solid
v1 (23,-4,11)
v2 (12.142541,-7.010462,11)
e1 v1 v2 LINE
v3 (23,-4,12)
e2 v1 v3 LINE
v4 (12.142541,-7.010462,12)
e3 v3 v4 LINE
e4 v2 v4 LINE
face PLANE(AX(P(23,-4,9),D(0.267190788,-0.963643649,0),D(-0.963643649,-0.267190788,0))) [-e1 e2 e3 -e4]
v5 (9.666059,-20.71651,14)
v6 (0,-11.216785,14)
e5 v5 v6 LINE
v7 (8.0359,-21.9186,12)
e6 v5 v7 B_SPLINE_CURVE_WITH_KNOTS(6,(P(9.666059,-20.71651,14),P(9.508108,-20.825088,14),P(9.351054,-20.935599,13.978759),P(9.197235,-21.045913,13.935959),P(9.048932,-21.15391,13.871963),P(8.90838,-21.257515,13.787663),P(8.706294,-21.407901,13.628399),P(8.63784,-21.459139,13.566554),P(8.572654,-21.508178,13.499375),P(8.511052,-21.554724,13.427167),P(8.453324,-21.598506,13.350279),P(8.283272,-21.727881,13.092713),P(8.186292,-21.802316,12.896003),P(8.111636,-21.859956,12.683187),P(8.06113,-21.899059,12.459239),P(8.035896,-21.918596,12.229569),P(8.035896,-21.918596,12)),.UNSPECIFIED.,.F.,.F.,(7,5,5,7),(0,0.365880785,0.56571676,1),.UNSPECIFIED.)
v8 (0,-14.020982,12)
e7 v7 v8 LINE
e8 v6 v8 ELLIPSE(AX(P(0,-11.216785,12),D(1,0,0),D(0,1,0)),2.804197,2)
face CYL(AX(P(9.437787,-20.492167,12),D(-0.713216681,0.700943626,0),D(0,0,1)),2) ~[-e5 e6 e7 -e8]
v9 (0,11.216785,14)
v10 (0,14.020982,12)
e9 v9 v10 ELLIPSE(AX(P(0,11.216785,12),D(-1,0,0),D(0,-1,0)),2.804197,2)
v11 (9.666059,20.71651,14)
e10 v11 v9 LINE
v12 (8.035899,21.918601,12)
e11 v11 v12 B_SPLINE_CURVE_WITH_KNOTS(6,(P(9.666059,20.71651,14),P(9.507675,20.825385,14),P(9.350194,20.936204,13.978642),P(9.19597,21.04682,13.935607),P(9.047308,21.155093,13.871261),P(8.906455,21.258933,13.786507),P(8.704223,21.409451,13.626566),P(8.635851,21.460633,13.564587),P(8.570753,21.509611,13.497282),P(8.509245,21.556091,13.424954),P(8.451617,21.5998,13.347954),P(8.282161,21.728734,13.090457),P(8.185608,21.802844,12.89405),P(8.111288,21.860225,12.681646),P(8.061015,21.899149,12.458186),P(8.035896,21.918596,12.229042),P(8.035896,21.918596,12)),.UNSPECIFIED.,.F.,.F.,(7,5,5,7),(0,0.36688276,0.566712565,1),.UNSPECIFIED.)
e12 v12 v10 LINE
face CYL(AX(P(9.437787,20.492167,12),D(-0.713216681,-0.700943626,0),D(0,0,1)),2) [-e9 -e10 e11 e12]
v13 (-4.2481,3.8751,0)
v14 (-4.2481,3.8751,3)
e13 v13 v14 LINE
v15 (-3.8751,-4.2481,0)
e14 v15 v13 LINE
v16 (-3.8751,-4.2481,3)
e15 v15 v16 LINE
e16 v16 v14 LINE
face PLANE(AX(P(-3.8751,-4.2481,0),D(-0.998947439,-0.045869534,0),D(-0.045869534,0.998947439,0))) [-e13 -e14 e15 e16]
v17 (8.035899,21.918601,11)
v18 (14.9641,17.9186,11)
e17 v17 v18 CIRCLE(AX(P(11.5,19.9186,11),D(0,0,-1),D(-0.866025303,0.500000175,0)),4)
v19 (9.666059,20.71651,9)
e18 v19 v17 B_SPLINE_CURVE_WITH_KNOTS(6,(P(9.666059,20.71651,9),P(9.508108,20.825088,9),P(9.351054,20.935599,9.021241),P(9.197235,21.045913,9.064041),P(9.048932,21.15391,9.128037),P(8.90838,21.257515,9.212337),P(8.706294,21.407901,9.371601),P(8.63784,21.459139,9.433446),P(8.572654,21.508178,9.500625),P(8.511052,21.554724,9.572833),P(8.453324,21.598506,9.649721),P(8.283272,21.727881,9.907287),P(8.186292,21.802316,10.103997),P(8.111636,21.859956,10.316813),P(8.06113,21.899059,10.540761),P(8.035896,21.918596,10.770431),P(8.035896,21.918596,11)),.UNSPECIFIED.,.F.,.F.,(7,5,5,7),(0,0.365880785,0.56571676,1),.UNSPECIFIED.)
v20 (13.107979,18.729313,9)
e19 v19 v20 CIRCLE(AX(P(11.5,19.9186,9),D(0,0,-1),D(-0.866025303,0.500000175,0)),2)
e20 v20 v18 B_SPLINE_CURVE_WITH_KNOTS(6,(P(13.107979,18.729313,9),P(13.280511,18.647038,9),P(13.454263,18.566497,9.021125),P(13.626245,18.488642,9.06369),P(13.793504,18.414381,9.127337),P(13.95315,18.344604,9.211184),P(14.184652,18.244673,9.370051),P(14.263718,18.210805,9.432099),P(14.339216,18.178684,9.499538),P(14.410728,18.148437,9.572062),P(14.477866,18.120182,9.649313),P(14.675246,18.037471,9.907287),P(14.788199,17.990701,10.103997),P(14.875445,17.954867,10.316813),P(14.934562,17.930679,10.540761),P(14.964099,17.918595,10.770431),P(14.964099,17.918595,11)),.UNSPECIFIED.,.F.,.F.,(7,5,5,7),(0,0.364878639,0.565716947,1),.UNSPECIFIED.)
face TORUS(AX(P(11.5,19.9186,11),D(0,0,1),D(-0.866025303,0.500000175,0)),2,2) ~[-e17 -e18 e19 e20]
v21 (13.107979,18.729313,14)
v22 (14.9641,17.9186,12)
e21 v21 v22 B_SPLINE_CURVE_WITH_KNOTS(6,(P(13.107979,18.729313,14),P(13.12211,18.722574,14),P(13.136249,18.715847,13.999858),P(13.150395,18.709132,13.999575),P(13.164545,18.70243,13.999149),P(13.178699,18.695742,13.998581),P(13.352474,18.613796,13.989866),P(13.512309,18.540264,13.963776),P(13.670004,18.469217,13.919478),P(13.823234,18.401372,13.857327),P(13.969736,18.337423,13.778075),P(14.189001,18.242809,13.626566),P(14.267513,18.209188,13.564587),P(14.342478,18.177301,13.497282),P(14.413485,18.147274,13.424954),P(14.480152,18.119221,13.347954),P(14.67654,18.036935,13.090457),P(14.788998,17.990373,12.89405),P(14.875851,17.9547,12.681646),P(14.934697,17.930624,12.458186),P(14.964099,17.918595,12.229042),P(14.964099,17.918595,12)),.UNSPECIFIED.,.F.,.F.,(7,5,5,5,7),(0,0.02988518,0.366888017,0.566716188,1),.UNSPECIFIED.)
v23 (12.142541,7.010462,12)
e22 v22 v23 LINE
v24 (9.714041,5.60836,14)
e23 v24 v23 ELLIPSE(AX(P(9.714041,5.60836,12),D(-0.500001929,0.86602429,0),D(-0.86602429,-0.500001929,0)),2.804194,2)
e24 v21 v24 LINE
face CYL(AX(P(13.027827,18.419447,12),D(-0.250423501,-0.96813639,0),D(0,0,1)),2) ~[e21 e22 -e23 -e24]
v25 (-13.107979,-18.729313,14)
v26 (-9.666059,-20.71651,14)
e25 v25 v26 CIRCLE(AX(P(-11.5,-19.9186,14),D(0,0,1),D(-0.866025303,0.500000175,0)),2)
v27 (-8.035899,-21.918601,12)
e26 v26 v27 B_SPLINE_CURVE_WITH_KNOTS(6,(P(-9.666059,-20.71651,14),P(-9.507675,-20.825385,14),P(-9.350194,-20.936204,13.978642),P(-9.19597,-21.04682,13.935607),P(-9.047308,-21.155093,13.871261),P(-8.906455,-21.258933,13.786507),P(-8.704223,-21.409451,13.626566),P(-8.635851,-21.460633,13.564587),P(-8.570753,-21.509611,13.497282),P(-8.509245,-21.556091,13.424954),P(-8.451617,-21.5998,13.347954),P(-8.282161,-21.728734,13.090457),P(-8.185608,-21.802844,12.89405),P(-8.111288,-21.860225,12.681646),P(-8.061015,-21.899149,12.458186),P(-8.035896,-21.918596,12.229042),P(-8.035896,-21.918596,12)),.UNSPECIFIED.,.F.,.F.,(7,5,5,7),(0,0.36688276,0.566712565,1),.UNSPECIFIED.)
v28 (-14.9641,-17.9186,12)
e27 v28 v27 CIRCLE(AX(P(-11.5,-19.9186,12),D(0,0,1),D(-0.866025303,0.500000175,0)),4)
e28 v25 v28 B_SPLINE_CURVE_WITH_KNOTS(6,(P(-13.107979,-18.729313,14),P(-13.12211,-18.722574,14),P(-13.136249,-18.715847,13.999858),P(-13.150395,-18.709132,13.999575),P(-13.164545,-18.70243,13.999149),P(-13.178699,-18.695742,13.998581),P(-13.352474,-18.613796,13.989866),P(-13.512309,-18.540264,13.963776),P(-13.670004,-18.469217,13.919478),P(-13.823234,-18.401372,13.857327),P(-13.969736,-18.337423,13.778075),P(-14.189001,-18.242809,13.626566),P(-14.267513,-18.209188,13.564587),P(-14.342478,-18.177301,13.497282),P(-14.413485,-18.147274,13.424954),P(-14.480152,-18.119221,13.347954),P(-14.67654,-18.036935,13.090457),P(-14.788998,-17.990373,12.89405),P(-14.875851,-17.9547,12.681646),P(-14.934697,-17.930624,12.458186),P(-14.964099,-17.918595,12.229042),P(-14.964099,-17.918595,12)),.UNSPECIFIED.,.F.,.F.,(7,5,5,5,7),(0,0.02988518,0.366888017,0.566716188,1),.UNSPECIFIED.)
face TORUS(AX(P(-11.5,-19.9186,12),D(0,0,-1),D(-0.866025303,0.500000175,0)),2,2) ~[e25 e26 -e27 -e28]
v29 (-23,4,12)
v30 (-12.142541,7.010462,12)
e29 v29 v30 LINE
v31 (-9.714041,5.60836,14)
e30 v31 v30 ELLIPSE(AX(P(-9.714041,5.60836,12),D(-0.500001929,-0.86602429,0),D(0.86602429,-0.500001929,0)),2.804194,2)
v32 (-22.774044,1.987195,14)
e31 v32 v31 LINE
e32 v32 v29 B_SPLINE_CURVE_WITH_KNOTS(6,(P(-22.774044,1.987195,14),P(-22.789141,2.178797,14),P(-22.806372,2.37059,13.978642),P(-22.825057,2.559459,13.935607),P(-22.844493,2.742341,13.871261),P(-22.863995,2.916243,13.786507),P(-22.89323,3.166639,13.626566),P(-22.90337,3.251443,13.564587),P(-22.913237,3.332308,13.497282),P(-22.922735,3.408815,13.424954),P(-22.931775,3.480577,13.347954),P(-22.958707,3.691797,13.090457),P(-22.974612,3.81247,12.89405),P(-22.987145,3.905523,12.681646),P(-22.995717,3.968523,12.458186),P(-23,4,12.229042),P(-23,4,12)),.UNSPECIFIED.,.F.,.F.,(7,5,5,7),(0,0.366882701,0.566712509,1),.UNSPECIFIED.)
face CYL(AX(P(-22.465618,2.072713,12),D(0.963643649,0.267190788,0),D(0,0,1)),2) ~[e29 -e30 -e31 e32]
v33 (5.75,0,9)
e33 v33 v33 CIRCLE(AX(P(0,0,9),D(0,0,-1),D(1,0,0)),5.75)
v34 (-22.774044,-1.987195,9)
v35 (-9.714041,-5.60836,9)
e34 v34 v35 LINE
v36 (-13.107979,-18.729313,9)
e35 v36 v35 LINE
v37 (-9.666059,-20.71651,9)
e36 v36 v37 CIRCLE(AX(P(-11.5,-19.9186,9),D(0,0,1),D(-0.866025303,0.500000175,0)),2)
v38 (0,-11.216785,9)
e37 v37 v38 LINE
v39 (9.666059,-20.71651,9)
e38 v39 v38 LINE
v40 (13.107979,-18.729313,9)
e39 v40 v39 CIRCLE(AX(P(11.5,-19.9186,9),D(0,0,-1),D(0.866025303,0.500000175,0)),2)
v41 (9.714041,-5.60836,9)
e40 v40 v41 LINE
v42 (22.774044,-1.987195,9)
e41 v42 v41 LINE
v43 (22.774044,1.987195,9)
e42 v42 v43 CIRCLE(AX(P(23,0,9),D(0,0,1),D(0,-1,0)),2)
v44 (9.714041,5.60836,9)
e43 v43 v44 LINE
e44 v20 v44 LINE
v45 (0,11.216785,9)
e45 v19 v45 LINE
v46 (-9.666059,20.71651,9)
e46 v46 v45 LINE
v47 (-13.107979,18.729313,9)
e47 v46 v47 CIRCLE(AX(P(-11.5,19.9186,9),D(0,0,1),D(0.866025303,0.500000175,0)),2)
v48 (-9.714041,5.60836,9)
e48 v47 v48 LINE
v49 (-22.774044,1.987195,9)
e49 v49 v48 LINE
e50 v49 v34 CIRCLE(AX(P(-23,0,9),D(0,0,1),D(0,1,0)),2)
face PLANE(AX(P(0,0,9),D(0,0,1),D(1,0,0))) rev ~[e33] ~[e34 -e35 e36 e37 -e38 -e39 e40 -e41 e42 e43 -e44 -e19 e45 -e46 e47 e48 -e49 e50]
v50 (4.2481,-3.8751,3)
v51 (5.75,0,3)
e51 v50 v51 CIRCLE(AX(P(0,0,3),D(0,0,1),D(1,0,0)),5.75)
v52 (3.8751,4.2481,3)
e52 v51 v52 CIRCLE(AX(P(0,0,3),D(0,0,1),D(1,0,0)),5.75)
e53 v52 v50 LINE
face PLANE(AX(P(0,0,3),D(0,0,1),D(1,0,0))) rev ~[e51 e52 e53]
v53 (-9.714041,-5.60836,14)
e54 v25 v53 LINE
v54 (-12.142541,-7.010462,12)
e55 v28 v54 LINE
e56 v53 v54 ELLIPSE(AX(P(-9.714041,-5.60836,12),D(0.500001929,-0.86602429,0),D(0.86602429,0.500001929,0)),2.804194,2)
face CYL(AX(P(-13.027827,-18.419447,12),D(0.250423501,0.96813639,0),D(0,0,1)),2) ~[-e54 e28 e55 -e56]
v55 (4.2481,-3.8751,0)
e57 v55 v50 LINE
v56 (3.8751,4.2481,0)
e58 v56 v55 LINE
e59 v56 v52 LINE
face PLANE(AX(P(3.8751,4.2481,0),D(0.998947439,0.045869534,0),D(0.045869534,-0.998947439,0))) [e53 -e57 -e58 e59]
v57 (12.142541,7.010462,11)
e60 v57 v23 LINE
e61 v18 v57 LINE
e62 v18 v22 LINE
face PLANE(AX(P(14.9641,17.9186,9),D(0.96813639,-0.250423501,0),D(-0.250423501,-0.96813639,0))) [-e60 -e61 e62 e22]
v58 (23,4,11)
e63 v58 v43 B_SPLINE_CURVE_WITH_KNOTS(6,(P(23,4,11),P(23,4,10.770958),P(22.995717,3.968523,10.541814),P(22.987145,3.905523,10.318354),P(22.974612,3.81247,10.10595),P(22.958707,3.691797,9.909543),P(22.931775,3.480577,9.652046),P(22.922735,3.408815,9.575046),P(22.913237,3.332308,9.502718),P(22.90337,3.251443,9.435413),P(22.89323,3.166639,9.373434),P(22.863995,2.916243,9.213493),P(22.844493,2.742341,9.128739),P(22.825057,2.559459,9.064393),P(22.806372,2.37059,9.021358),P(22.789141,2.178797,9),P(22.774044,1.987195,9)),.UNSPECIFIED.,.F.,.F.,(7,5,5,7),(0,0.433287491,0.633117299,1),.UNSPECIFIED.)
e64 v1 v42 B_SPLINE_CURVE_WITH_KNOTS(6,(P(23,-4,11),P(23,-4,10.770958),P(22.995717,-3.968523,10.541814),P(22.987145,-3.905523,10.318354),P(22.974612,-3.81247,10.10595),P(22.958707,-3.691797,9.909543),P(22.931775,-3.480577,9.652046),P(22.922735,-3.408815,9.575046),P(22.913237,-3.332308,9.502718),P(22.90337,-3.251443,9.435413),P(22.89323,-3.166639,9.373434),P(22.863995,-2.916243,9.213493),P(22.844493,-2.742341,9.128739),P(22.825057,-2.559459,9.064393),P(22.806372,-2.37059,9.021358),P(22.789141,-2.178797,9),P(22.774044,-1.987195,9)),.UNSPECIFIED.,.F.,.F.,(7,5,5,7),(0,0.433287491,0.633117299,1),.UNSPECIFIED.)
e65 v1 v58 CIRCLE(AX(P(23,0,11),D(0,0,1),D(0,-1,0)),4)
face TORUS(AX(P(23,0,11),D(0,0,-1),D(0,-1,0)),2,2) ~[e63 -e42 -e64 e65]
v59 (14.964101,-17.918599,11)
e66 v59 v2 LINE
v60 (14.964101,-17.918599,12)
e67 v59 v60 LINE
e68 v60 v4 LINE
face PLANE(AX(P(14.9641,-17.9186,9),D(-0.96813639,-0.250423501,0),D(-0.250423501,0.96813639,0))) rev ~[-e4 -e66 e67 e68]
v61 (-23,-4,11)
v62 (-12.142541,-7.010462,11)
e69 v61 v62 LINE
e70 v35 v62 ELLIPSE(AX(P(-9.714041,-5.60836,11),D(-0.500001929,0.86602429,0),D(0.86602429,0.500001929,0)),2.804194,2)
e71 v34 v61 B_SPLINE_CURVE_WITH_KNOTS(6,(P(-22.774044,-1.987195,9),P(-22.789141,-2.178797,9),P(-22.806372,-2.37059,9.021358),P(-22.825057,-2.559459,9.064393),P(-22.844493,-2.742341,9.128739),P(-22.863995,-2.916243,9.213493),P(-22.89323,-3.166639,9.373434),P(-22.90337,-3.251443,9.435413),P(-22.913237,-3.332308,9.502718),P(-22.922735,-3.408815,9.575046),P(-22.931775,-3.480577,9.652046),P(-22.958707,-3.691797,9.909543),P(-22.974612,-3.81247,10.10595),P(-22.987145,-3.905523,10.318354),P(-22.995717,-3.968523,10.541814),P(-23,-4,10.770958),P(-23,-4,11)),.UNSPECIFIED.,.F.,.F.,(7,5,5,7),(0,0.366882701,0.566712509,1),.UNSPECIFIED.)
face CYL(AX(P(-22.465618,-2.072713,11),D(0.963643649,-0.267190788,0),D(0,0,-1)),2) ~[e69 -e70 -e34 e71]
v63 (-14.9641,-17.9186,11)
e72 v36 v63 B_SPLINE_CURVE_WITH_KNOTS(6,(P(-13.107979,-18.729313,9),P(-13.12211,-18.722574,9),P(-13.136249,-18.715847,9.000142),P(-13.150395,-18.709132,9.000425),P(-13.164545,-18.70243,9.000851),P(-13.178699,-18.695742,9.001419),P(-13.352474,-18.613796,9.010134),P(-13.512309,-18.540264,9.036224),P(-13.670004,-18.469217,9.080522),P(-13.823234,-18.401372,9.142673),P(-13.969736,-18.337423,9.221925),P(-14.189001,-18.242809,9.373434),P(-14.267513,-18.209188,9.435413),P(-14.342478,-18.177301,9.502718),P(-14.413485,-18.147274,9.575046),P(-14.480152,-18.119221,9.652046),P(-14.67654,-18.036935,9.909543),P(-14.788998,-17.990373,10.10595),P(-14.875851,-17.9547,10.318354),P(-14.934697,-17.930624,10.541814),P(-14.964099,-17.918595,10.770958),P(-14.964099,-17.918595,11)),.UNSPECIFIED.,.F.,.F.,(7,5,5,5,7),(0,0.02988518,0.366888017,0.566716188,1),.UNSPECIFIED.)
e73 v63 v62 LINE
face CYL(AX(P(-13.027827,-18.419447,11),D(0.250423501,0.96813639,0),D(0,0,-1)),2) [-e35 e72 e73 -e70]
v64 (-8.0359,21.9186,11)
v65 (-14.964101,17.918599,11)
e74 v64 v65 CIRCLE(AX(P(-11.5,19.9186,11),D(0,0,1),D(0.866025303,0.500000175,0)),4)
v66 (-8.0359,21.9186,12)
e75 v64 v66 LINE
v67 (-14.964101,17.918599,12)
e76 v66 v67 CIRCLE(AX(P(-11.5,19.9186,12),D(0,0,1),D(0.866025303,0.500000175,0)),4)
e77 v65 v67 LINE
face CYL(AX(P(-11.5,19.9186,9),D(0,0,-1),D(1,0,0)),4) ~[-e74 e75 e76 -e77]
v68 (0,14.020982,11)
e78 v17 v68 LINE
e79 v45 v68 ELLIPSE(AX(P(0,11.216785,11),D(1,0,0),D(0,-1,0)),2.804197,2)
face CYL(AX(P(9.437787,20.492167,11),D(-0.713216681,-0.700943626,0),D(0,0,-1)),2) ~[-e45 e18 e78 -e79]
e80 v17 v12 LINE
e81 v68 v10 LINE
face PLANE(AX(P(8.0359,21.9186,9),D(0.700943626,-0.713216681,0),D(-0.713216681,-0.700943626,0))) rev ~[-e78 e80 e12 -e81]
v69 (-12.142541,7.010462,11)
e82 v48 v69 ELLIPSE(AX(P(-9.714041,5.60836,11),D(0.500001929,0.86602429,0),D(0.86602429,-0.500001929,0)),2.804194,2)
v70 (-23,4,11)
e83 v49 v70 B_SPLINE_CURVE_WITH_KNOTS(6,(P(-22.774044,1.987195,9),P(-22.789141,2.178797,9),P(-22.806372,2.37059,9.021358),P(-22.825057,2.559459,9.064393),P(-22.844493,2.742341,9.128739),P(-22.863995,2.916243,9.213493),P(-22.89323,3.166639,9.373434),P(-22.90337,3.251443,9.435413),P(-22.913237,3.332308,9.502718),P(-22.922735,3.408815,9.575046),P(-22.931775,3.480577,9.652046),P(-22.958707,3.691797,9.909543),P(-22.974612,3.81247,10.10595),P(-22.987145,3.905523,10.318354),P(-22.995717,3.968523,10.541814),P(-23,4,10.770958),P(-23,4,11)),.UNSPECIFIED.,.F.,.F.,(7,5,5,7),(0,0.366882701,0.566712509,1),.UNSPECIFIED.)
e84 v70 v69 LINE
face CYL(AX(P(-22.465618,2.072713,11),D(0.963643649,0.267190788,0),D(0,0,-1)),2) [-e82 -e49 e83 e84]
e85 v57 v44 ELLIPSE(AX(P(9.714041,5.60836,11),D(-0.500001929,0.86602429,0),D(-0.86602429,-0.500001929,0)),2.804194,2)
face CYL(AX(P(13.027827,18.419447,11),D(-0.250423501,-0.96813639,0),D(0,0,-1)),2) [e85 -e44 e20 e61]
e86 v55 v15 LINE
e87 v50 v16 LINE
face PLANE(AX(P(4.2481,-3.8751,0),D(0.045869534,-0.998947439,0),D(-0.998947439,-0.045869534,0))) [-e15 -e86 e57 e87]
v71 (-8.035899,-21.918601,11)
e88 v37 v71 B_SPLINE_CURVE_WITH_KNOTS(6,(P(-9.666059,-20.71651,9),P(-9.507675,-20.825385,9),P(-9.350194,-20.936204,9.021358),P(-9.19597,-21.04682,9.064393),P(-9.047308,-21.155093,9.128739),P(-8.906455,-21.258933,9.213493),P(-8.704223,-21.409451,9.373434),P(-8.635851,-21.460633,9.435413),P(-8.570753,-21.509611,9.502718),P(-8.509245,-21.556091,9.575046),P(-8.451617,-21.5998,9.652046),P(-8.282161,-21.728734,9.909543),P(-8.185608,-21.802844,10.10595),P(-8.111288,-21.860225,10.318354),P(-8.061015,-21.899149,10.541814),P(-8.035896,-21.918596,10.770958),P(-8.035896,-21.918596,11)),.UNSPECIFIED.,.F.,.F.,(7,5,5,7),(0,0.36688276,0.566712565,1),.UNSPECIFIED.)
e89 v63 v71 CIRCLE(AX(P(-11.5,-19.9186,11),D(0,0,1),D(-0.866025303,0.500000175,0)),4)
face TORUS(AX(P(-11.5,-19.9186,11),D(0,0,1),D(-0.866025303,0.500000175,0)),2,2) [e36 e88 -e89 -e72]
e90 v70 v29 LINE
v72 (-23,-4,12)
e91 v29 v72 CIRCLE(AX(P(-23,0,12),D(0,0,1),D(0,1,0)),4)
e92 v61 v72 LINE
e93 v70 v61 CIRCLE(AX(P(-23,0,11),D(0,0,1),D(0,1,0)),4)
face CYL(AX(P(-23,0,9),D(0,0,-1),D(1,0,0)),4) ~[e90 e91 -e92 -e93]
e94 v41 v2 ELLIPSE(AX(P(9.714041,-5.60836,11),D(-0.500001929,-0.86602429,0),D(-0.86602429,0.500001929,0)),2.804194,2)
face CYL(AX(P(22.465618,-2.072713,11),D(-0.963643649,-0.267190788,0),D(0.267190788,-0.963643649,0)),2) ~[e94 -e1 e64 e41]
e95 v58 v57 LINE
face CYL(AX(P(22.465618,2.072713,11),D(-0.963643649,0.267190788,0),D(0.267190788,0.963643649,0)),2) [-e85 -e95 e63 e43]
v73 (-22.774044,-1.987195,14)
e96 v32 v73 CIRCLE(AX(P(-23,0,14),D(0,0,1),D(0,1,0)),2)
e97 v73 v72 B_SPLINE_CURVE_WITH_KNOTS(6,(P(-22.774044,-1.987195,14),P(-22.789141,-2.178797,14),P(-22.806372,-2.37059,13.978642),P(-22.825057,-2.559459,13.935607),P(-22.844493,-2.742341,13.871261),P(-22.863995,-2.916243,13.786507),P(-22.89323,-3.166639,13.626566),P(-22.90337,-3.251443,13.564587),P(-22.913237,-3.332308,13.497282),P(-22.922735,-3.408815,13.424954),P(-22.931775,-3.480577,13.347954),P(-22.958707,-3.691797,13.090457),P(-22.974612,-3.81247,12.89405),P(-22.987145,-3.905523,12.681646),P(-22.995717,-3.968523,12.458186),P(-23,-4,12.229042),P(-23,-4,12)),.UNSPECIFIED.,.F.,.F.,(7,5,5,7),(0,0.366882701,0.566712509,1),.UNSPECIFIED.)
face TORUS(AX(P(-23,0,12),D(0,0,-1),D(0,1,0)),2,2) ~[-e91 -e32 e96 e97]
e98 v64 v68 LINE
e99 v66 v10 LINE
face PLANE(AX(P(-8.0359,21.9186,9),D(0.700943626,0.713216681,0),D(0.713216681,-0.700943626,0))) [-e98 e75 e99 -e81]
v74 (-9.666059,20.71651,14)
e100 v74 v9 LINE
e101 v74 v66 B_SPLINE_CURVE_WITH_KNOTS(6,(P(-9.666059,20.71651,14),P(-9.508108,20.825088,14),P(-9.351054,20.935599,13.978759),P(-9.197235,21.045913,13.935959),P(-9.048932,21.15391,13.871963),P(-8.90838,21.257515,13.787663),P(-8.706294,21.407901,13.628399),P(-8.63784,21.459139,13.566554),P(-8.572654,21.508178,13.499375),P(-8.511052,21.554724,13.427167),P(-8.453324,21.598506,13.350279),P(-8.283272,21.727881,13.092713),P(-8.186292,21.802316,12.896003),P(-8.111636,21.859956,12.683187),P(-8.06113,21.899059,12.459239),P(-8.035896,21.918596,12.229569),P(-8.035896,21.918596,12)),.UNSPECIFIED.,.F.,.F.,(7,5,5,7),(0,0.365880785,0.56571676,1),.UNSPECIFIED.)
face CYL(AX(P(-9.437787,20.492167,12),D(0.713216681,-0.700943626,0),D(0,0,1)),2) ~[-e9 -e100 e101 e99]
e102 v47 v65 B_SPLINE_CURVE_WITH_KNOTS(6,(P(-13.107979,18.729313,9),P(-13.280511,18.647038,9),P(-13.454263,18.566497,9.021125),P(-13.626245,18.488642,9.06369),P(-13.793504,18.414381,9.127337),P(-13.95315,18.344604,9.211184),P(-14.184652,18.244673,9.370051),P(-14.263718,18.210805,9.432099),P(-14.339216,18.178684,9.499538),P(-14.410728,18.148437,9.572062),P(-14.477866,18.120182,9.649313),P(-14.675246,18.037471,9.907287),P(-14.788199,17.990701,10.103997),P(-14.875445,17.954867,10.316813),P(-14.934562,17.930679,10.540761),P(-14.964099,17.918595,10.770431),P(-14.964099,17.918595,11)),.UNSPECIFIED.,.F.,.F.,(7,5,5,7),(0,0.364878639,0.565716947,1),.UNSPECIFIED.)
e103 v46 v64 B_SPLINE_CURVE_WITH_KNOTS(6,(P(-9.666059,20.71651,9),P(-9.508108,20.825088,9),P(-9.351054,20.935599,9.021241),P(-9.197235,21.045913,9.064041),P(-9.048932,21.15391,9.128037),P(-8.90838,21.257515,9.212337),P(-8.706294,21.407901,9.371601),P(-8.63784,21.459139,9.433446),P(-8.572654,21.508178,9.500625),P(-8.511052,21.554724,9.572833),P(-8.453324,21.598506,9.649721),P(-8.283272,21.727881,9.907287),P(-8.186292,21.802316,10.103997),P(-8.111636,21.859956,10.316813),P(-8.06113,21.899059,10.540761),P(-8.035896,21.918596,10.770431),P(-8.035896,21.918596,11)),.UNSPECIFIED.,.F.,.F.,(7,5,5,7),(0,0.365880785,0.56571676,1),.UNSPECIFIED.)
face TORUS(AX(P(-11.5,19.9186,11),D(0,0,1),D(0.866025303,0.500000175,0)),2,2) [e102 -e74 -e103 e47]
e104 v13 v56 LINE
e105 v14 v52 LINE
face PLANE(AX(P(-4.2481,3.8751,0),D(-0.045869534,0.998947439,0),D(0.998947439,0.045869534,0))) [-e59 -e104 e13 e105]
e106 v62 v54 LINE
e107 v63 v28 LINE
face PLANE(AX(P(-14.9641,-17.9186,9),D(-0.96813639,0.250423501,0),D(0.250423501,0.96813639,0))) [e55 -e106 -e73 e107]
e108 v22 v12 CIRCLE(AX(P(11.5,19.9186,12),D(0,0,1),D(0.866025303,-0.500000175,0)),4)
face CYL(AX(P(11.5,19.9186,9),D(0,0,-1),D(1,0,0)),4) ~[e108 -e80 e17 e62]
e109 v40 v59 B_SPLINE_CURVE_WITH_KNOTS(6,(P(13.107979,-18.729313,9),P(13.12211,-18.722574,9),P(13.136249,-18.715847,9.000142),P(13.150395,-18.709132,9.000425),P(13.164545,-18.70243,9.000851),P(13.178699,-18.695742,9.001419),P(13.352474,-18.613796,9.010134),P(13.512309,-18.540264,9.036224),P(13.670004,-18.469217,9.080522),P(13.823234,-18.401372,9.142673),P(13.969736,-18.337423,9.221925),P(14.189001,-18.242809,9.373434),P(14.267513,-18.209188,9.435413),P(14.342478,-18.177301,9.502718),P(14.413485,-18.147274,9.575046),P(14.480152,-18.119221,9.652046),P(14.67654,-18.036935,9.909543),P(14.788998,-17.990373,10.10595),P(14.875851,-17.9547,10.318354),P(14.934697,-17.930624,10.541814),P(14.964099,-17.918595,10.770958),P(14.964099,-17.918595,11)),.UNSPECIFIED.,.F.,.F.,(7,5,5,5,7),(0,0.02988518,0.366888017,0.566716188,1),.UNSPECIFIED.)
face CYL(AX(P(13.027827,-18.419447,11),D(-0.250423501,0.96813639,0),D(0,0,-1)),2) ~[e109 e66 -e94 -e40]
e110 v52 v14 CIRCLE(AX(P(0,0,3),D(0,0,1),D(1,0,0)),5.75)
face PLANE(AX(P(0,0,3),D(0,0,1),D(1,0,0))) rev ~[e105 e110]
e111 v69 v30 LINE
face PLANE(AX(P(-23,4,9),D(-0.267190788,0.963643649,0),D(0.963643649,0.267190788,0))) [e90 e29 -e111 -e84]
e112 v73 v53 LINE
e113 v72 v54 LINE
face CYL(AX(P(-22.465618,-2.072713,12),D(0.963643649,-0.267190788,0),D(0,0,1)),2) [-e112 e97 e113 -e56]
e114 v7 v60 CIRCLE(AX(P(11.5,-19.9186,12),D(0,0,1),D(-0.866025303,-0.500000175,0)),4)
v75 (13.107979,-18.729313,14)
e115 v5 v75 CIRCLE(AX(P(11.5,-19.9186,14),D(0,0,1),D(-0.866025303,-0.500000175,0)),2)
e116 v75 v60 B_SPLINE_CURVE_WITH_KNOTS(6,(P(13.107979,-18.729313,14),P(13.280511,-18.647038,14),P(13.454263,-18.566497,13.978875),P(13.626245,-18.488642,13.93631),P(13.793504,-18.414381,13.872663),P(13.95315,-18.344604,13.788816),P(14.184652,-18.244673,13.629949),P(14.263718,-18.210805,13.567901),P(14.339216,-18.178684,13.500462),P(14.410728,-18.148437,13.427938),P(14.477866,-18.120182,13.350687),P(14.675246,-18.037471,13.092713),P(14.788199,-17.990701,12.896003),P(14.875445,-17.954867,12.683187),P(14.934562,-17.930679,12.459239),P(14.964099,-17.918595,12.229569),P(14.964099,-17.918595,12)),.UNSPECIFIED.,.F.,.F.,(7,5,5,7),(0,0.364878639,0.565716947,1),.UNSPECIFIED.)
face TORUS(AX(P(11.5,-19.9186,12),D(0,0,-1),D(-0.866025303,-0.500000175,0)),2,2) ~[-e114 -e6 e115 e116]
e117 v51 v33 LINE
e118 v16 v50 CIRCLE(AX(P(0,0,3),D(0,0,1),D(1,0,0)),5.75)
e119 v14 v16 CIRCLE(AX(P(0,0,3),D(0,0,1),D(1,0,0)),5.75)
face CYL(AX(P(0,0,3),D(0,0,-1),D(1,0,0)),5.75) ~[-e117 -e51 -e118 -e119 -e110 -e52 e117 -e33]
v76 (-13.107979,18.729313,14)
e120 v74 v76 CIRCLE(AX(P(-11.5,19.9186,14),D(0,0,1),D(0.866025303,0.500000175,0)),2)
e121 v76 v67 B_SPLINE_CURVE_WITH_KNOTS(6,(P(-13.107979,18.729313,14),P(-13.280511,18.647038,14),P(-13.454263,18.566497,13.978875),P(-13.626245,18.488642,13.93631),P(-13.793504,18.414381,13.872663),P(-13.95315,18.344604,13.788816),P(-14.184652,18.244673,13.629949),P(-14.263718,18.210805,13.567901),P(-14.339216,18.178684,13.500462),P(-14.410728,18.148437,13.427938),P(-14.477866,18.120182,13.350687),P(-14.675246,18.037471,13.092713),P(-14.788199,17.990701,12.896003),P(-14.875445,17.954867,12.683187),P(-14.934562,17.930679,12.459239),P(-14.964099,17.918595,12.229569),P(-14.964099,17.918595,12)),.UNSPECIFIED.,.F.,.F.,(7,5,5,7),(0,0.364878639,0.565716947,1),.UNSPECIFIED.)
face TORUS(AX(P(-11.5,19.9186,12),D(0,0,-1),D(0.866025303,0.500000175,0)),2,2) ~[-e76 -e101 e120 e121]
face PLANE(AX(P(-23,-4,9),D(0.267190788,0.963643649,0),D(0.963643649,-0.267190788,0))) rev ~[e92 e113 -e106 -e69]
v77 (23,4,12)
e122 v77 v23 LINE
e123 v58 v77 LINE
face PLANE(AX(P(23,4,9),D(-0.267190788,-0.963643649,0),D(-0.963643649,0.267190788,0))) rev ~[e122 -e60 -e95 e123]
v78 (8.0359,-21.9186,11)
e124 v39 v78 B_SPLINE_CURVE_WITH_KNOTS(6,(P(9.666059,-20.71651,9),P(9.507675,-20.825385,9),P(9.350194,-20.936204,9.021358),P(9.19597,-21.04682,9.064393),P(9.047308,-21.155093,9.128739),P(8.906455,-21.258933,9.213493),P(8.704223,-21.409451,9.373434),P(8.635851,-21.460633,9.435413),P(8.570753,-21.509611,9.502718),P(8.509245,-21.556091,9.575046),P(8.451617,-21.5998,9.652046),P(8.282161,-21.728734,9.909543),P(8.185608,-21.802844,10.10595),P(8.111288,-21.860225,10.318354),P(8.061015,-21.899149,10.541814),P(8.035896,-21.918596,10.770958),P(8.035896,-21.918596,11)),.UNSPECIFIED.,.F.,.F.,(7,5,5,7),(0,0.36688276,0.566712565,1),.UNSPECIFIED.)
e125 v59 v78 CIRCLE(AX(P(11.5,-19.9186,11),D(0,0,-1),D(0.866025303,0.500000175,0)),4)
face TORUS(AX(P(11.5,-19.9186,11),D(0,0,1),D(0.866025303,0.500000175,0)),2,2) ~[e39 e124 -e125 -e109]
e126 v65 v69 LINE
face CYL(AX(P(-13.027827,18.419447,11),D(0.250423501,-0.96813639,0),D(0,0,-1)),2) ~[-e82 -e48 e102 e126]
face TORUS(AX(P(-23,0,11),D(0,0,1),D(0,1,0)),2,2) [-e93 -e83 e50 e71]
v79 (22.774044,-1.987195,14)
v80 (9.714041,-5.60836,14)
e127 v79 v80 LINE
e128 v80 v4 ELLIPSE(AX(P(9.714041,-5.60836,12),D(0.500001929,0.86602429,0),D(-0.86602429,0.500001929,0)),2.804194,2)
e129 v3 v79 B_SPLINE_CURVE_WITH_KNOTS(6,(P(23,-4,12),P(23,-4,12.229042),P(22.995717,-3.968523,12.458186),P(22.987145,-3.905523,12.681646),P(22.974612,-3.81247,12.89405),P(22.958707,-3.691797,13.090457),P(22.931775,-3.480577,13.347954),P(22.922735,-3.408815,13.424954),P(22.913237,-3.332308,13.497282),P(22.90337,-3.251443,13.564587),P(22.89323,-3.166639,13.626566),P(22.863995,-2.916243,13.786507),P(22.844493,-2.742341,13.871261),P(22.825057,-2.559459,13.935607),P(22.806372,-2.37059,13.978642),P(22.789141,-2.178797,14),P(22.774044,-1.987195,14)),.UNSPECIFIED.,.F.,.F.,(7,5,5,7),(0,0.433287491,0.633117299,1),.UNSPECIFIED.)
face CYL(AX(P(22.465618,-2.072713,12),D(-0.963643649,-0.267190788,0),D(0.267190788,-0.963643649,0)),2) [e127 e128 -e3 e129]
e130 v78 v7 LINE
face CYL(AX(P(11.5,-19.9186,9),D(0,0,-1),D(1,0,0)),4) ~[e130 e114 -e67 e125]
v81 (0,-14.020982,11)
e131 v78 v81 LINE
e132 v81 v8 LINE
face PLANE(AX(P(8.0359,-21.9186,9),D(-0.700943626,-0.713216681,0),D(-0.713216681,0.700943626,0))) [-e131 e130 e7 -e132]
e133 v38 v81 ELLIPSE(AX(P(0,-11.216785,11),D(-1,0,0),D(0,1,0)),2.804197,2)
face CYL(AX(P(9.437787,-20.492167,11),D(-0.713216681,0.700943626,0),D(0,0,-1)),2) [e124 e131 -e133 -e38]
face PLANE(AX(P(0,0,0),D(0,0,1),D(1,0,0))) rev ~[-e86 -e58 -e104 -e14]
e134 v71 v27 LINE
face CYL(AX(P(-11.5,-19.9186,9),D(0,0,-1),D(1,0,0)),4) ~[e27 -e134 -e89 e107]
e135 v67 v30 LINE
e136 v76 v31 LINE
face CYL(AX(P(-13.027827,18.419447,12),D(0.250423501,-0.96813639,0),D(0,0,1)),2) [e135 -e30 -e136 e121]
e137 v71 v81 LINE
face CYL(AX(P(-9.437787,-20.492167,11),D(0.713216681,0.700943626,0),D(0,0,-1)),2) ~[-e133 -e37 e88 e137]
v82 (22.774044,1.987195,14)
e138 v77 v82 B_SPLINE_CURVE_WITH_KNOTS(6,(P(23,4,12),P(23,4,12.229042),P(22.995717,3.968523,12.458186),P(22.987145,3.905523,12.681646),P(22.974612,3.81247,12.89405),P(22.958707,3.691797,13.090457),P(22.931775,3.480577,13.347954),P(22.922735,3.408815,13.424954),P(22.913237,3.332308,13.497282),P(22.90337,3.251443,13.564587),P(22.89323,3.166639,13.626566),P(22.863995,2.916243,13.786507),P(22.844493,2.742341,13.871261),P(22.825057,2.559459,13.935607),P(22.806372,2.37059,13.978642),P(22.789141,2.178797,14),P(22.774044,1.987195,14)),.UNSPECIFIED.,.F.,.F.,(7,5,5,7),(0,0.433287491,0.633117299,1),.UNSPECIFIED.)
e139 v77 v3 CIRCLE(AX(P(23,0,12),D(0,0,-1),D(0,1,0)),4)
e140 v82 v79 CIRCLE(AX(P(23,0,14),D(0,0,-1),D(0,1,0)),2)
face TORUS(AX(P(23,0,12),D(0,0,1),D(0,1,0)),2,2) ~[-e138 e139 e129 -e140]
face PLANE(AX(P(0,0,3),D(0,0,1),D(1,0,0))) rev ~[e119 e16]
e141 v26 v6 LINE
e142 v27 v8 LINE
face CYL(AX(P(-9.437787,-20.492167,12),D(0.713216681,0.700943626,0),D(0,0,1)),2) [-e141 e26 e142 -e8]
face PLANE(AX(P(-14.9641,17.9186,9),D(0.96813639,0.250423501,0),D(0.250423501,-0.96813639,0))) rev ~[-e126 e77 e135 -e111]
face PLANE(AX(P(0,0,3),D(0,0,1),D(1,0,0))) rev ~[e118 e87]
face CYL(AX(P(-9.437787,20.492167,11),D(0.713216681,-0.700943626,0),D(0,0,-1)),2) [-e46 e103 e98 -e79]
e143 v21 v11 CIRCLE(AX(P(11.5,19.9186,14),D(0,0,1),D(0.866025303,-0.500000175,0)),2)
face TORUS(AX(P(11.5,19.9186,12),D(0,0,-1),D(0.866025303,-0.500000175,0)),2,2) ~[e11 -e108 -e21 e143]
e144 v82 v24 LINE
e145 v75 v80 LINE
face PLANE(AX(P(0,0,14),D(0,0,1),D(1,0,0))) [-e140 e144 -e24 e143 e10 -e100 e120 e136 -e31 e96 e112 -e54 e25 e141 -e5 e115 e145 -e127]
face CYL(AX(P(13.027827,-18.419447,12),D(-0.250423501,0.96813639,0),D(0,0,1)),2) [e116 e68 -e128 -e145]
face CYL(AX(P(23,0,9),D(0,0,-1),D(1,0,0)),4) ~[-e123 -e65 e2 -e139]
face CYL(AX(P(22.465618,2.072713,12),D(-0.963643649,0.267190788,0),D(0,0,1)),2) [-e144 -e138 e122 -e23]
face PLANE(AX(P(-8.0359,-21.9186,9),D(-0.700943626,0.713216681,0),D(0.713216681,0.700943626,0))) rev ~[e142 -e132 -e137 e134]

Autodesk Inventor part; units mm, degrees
ref_plane "YZ Plane" through (0, 0, 0) normal (1, 0, 0) x (0, 1, 0)
ref_plane "XZ Plane" through (0, 0, 0) normal (0, 1, 0) x (-1, 0, 0)
ref_plane "XY Plane" through (0, 0, 0) normal (0, 0, 1) x (1, 0, 0)
sketch "Sketch1" plane through (0, 0, 0) normal (0, 0, 1) x (1, 0, 0)
  line L0 (4.2481, -3.8751) -> (-3.8751, -4.2481) projected
  line L1 (3.8751, 4.2481) -> (4.2481, -3.8751) projected
  line L2 (-4.2481, 3.8751) -> (3.8751, 4.2481) projected
  line L3 (-3.8751, -4.2481) -> (-4.2481, 3.8751) projected
  arc A0 (-0.3054, 6.0062) -> (0.3054, -6.0062) centre (0, 0) ccw projected
  circle A1 centre (0, 0) radius 5.75
  point P0 (0, 0)
extrude "Extrusion1" add sketch "Sketch1" along normal blind 3 contours L0 L3 L2 L1
sketch "Sketch2" plane through (0, 0, 3) normal (0, 0, 1) x (1, 0, 0)
  arc A0 (-0.3054, 6.0062) -> (0.3054, -6.0062) centre (0, 0) ccw
  line L0 (-3.8751, -4.2481) -> (4.2481, -3.8751) projected
  circle A1 centre (0, 0) radius 5.75
  point P0 (0, 0)
extrude "Extrusion2" add sketch "Sketch2" along normal blind 6
sketch "Sketch3" plane through (0, 0, 9) normal (0, 0, 1) x (1, 0, 0)
  circle A0 centre (23, 0) radius 4
  circle A1 centre (0, 0) radius 10
  line L0 (23, 4) -> (2.6719, 9.6364)
  line L1 (23, -4) -> (2.6719, -9.6364)
  circle A2 centre (11.5, 19.9186) radius 4
  line L2 (8.0359, 21.9186) -> (-7.0094, 7.1322)
  line L3 (14.9641, 17.9186) -> (9.6814, -2.5043)
  circle A3 centre (-11.5, 19.9186) radius 4
  line L4 (-14.9641, 17.9186) -> (-9.6814, -2.5043)
  line L5 (-8.0359, 21.9186) -> (7.0094, 7.1322)
  circle A4 centre (-23, 0) radius 4
  line L6 (-23, -4) -> (-2.6719, -9.6364)
  line L7 (-23, 4) -> (-2.6719, 9.6364)
  circle A5 centre (-11.5, -19.9186) radius 4
  line L8 (-8.0359, -21.9186) -> (7.0094, -7.1322)
  line L9 (-14.9641, -17.9186) -> (-9.6814, 2.5043)
  circle A6 centre (11.5, -19.9186) radius 4
  line L10 (14.9641, -17.9186) -> (9.6814, 2.5043)
  line L11 (8.0359, -21.9186) -> (-7.0094, -7.1322)
  point P0 (0, 14.021)
  point P1 (-12.1425, 7.0105)
  point P2 (-12.1425, -7.0105)
  point P3 (0, -14.021)
  point P4 (12.1425, -7.0105)
  point P5 (12.1425, 7.0105)
  dimension "d4" = 20
  dimension "d7" = 360
extrude "Extrusion3" add sketch "Sketch3" along normal blind 5
fillet "Fillet1" radius 2 36 edges at (13.5533, 12.4645, 14) (13.5, 23.3827, 14) (4.0179, 17.9698, 14) (-4.0179, 17.9698, 14) (-13.5, 23.3827, 14) (-13.5533, 12.4645, 14) (-17.5713, 5.5052, 14) (-27, 0, 14) (-17.5713, -5.5052, 14) (-13.5533, -12.4645, 14) (-13.5, -23.3827, 14) (-4.0179, -17.9698, 14) (4.0179, -17.9698, 14) (13.5, -23.3827, 14) (13.5533, -12.4645, 14) (17.5713, -5.5052, 14) (27, 0, 14) (17.5713, 5.5052, 14) (-13.5533, -12.4645, 9) (-13.5, -23.3827, 9) (-4.0179, -17.9698, 9) (4.0179, -17.9698, 9) (13.5, -23.3827, 9) (13.5533, -12.4645, 9) (17.5713, -5.5052, 9) (17.5713, 5.5052, 9) (27, 0, 9) (13.5533, 12.4645, 9) (13.5, 23.3827, 9) (-4.0179, 17.9698, 9) (-13.5, 23.3827, 9) (-13.5533, 12.4645, 9) (-17.5713, 5.5052, 9) (-27, 0, 9) (-17.5713, -5.5052, 9) (4.0179, 17.9698, 9)
properties part number "main axel"
